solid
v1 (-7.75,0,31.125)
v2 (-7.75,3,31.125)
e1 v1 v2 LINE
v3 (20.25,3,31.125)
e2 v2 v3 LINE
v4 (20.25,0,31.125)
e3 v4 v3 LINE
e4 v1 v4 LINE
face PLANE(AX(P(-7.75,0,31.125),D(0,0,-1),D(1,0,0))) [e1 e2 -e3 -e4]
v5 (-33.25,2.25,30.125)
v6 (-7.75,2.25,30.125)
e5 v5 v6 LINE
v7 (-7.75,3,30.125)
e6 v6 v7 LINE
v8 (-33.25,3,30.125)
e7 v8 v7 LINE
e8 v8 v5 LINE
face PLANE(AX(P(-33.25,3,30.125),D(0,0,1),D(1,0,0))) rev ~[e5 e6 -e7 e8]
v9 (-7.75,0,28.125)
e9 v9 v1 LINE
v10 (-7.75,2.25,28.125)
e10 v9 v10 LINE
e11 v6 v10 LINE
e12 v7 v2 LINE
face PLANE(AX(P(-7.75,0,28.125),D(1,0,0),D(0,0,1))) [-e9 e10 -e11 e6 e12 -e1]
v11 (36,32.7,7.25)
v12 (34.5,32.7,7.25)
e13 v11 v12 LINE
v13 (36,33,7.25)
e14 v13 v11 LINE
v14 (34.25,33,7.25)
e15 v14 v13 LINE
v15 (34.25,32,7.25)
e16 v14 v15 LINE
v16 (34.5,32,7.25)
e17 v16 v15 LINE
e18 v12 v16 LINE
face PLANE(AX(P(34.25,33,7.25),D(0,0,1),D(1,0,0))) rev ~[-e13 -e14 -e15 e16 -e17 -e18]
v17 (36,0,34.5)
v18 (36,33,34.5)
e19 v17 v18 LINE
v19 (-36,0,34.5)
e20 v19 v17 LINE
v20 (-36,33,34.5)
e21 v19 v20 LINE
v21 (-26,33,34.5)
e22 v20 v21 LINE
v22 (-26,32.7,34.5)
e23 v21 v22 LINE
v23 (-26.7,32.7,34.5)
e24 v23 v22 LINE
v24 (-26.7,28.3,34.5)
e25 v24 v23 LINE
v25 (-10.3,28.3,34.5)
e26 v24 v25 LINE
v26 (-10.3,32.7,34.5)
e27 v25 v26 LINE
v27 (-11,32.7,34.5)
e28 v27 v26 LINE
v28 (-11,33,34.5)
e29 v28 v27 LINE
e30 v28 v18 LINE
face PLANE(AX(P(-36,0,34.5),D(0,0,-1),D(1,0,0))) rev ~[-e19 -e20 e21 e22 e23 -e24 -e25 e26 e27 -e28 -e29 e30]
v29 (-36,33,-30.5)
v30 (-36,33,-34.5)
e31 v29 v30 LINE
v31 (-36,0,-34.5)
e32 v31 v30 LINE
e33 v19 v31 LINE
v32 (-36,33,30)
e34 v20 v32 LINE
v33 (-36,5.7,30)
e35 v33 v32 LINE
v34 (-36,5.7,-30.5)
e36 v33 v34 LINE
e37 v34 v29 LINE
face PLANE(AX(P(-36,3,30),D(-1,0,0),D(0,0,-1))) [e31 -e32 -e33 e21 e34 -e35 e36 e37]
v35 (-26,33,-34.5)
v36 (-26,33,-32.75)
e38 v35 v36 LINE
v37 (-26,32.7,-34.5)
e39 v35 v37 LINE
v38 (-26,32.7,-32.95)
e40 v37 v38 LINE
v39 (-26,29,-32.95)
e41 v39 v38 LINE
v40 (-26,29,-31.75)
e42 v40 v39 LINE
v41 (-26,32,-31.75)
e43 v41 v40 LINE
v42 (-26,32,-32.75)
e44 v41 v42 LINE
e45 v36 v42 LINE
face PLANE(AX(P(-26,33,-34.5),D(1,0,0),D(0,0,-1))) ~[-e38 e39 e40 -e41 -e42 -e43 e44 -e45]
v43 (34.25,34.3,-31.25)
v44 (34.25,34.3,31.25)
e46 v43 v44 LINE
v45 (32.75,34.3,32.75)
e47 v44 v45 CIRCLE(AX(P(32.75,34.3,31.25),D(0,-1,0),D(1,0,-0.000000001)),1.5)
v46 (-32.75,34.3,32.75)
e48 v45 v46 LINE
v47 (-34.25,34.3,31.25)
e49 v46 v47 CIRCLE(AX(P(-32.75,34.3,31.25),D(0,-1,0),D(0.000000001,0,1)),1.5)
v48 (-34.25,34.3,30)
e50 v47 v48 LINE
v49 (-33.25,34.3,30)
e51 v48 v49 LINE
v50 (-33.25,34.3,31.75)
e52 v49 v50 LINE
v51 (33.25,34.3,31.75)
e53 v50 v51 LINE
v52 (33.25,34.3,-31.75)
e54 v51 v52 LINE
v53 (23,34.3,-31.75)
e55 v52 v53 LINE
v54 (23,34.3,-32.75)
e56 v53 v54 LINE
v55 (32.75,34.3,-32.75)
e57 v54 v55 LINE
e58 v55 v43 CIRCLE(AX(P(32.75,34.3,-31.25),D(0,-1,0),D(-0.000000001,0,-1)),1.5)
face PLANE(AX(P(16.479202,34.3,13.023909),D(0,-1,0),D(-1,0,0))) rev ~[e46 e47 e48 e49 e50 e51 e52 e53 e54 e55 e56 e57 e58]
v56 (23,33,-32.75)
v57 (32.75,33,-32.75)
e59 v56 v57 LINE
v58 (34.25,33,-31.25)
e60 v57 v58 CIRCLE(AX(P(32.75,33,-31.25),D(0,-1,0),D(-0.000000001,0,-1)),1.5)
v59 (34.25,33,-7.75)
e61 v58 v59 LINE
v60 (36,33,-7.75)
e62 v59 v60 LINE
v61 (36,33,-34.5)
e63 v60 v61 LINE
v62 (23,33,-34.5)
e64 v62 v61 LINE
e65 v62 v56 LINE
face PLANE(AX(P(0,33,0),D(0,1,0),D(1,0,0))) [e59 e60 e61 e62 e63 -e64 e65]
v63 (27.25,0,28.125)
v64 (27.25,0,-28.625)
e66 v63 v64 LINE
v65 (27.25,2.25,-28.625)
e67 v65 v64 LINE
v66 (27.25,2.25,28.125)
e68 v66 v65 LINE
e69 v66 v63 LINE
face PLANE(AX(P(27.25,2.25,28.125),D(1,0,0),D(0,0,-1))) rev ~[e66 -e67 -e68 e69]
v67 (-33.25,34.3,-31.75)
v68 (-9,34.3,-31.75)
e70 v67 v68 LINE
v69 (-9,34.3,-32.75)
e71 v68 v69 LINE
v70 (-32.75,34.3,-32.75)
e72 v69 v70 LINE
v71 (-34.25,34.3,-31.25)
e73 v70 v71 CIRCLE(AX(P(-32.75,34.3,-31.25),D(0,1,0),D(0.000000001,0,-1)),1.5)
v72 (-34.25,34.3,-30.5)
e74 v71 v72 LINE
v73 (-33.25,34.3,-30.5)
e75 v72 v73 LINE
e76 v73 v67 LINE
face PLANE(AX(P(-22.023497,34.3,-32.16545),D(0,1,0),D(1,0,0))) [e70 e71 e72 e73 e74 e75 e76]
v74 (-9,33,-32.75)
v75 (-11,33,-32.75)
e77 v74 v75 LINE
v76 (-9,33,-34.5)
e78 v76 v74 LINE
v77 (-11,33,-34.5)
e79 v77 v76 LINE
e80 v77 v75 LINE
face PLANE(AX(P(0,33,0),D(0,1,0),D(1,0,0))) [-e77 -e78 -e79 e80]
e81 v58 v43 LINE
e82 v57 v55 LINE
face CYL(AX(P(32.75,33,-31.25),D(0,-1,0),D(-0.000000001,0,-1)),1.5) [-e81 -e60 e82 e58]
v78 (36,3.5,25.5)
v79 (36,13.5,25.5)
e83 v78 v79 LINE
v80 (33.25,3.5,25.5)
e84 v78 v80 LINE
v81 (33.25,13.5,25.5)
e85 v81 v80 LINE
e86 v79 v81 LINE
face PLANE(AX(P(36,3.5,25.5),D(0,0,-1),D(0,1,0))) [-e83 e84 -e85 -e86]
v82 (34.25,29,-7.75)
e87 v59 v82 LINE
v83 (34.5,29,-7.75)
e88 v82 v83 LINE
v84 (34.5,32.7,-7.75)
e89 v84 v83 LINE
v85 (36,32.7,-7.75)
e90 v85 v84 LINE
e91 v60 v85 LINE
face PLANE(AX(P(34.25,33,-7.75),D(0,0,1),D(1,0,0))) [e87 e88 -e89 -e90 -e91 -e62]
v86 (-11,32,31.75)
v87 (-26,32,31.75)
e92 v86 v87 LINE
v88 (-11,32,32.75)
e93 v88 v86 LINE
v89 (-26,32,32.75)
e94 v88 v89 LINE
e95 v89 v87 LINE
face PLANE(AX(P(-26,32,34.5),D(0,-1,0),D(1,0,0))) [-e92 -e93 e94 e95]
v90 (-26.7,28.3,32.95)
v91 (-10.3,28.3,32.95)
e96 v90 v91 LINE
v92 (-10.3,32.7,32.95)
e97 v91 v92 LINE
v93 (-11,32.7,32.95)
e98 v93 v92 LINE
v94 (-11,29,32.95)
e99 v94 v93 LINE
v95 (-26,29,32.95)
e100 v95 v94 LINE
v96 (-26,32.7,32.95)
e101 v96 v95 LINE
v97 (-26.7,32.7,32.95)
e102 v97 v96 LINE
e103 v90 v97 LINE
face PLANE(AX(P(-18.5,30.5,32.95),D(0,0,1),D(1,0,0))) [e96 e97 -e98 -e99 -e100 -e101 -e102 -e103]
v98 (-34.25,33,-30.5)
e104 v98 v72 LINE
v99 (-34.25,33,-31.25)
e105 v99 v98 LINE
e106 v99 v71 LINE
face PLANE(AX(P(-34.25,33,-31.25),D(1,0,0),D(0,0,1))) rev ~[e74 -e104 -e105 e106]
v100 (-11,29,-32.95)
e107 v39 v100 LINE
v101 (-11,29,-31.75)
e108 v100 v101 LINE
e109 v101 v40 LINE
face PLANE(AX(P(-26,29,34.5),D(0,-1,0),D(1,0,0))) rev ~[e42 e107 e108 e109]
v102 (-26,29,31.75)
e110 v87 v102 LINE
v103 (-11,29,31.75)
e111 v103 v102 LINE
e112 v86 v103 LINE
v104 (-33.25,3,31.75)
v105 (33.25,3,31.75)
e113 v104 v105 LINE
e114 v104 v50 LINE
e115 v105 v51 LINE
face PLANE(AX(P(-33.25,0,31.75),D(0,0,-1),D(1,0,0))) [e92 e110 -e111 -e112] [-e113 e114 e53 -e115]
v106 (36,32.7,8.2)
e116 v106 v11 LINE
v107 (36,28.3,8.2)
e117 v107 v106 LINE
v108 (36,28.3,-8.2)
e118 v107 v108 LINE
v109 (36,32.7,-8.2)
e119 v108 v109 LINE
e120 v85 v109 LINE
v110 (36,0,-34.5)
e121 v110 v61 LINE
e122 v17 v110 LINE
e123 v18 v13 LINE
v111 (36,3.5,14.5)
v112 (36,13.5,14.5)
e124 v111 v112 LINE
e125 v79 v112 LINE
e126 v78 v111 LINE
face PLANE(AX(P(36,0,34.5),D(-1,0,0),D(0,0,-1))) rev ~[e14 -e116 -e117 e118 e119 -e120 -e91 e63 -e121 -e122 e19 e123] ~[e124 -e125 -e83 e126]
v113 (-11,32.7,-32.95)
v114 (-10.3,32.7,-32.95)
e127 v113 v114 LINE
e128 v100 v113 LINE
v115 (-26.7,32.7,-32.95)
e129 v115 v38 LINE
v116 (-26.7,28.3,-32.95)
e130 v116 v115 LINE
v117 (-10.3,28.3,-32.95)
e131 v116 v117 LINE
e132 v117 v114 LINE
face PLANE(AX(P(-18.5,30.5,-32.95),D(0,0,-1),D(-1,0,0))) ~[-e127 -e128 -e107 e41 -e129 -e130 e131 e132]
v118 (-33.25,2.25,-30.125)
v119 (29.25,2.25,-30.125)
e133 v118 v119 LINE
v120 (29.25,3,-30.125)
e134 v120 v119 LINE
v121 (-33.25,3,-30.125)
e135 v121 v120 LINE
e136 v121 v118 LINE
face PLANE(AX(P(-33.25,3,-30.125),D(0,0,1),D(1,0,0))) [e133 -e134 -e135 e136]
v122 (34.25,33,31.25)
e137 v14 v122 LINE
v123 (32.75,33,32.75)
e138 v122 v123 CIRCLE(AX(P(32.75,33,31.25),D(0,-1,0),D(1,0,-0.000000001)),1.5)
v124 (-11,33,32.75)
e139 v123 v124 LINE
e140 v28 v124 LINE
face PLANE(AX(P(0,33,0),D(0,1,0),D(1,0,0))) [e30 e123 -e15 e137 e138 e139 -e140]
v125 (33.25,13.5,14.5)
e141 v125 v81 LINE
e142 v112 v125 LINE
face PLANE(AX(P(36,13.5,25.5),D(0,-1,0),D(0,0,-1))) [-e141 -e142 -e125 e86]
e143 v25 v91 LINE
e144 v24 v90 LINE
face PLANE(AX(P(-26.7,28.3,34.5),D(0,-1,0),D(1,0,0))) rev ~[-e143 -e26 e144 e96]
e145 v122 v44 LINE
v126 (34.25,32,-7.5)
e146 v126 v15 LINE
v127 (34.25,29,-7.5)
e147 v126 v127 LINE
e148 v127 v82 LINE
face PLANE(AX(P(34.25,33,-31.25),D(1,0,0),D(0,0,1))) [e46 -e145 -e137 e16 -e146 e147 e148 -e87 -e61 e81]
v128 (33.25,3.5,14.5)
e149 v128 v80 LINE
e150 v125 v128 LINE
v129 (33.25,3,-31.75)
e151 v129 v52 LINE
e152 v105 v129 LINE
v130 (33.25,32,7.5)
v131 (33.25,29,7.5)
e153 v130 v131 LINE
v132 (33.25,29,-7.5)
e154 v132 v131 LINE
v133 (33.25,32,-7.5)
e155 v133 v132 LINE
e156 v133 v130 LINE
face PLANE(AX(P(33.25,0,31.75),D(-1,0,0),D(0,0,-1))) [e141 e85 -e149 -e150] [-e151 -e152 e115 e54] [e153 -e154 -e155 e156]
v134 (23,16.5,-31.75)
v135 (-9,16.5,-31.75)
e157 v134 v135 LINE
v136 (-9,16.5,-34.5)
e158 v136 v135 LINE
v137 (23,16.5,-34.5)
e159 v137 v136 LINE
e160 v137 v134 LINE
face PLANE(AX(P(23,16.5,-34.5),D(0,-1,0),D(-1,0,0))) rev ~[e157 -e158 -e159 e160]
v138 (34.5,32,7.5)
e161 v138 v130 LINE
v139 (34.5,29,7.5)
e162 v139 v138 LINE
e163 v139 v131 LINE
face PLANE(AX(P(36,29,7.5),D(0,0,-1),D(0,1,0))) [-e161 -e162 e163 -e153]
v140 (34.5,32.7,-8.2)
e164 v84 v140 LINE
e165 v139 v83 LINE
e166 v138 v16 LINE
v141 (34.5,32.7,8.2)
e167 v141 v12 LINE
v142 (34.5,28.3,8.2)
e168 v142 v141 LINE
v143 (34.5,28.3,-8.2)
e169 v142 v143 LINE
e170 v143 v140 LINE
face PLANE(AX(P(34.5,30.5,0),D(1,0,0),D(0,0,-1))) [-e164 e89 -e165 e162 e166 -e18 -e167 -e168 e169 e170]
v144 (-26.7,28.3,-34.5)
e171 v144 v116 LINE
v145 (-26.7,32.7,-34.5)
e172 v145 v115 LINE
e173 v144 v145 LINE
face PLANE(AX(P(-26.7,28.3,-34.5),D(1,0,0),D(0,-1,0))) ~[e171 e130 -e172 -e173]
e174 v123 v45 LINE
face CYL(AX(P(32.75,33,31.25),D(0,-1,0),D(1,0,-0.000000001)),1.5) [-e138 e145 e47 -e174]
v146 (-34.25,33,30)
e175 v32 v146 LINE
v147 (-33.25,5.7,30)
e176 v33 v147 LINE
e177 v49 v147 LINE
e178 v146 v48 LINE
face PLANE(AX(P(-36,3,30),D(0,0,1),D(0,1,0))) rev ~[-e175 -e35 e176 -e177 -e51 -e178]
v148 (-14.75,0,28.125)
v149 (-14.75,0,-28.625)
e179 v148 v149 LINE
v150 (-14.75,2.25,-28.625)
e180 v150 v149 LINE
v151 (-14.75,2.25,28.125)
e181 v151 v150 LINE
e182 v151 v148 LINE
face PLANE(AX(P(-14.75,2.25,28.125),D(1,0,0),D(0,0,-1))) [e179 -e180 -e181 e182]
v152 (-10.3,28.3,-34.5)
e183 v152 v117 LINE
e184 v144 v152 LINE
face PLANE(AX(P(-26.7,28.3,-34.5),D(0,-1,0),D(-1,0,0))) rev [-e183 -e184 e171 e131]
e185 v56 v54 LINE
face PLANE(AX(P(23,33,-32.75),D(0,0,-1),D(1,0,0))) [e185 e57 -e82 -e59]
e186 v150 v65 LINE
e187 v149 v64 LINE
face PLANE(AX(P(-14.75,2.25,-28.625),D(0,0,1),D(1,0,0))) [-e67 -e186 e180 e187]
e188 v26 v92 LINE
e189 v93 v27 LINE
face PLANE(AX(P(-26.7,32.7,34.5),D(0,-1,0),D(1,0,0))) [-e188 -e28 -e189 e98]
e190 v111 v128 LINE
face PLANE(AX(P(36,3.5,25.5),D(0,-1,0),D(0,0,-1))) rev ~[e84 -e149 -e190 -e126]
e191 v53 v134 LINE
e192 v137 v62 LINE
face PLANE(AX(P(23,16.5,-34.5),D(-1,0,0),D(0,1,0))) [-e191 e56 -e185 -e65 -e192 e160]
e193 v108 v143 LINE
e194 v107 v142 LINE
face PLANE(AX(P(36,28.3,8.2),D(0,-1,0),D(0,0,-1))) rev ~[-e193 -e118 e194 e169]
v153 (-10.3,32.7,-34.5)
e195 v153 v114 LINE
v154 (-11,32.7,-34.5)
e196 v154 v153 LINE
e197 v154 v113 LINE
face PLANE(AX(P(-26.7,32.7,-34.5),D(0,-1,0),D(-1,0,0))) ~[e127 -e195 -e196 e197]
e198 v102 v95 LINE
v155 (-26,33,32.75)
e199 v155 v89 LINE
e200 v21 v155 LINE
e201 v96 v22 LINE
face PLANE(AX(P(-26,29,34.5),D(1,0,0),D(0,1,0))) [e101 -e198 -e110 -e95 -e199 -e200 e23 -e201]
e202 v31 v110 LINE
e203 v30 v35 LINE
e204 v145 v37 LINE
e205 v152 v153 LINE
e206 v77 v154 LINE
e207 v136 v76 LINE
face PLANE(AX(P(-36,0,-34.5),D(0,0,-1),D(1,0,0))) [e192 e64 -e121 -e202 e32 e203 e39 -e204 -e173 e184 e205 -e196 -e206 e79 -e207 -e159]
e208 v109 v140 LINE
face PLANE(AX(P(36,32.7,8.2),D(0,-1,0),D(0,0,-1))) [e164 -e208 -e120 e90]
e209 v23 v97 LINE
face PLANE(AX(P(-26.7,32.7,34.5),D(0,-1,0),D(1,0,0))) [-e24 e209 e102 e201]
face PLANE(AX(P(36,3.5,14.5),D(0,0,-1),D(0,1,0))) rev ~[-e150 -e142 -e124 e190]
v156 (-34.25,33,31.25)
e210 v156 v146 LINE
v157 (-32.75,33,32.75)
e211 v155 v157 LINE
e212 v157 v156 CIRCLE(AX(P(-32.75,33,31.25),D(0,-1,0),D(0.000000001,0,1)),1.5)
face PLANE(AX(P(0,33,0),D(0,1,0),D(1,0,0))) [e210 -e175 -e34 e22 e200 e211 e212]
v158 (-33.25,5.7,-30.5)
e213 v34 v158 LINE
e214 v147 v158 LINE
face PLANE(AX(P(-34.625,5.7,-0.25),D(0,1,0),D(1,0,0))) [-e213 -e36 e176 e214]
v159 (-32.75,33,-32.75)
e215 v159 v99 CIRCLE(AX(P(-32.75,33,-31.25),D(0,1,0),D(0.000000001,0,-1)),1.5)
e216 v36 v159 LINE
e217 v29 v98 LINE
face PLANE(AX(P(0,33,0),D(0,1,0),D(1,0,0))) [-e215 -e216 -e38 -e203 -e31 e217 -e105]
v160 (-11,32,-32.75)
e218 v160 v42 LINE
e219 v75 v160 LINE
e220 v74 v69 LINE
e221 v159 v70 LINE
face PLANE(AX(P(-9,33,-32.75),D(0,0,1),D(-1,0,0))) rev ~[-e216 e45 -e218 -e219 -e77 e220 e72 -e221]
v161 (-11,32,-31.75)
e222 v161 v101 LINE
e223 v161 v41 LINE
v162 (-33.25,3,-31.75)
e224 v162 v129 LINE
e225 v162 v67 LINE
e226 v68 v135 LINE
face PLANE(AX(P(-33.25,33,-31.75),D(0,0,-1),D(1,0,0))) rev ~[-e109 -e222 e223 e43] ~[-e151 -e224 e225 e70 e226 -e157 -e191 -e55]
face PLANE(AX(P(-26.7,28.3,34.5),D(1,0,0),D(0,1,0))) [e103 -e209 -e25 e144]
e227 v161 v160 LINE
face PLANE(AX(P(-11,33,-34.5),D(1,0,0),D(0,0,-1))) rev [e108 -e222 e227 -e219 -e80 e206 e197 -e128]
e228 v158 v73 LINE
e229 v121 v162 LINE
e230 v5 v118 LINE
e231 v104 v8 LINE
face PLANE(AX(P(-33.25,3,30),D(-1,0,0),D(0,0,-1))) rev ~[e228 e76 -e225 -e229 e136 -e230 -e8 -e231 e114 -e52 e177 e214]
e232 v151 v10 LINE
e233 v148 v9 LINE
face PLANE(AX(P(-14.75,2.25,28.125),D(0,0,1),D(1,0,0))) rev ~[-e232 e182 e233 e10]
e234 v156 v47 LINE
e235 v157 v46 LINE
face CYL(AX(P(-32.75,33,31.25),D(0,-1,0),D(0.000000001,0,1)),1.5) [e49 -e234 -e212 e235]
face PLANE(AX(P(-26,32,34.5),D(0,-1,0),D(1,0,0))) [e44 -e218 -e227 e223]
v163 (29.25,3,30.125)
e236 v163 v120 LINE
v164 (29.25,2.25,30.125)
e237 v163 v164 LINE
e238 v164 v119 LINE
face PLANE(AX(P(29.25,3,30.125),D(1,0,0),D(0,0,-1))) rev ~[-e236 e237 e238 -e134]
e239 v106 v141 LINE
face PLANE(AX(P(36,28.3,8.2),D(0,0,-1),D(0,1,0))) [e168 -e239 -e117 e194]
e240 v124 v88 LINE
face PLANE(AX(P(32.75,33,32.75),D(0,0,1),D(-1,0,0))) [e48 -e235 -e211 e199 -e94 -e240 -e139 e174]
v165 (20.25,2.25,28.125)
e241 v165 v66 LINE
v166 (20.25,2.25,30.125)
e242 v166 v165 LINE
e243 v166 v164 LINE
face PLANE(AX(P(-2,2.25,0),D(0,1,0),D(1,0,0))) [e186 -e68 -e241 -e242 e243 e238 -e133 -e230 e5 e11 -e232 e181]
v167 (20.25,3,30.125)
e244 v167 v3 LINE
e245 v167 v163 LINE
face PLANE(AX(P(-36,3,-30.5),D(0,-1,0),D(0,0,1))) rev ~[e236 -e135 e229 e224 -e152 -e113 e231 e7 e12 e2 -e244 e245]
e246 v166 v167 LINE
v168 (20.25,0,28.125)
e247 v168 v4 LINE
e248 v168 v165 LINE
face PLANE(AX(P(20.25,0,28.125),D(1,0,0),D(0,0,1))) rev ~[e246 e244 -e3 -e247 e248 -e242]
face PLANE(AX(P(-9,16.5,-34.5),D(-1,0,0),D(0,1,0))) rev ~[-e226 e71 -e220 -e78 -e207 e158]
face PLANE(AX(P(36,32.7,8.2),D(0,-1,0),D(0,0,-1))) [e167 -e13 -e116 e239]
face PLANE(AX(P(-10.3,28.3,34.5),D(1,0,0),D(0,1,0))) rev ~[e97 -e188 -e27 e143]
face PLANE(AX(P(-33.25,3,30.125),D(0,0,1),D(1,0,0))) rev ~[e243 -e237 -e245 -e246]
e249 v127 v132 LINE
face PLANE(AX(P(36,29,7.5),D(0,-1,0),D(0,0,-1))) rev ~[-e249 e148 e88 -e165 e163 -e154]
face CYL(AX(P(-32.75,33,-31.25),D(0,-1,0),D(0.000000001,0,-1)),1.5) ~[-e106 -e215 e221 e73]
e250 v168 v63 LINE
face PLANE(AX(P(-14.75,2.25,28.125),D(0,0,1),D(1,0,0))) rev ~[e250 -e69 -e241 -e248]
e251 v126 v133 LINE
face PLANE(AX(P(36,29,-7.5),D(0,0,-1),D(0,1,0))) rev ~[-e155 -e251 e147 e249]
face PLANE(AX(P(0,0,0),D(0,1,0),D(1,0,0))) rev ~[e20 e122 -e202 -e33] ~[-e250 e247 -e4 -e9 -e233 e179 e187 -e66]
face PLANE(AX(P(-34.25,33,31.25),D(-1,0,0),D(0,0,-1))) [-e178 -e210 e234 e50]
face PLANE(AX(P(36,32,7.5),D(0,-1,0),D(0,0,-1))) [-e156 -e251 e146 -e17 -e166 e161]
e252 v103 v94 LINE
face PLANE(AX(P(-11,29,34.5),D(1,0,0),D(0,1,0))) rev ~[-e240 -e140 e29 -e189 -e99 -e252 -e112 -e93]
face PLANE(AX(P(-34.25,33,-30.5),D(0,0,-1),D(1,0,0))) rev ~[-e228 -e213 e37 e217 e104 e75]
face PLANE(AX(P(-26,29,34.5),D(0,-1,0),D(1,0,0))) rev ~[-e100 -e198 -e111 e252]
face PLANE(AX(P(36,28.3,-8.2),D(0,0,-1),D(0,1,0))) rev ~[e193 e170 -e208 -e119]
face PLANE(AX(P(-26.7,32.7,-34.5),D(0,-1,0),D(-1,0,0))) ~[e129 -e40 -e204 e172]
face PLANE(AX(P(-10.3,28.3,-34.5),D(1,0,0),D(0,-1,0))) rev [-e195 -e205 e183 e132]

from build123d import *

# Parameters (mm, degrees)
SKETCH2_W           = 66.5
SKETCH2_H           = 63.5
BOSS_EXTRUDE1_DEPTH = 3
SKETCH3_W           = 62.5
SKETCH3_H           = 60.25
CUT_EXTRUDE1_DEPTH  = 0.75
SKETCH4_W           = 42
SKETCH4_H           = 56.75
CUT_EXTRUDE2_DEPTH  = 47.029202687
SKETCH6_W           = 72
SKETCH6_H           = 69
SKETCH6_W_2         = 66.5
SKETCH6_H_2         = 63.5
BOSS_EXTRUDE2_DEPTH = 33
SKETCH7_W           = 60.5
SKETCH7_H           = 30
CUT_EXTRUDE3_DEPTH  = 30
SKETCH8_W           = 11
SKETCH8_H           = 10
CUT_EXTRUDE4_DEPTH  = 3
SKETCH10_W          = 32
SKETCH10_H          = 16.5
CUT_EXTRUDE5_DEPTH  = 16.5
BOSS_EXTRUDE3_DEPTH = 1.3
SKETCH12_W          = 15
SKETCH12_H          = 3
CUT_EXTRUDE6_DEPTH  = 86.049926514
SKETCH13_W          = 15
SKETCH13_H          = 3
CUT_EXTRUDE7_DEPTH  = 3
SKETCH14_W          = 16.4
SKETCH14_H          = 4.4
SKETCH14_W_2        = 15
SKETCH14_H_2        = 3
CUT_EXTRUDE9_DEPTH  = 1.55
SKETCH15_W          = 15
SKETCH15_H          = 1.75
CUT_EXTRUDE10_DEPTH = 4
SKETCH17_W          = 16.4
SKETCH17_H          = 4.4
SKETCH17_W_2        = 15
SKETCH17_H_2        = 3
CUT_EXTRUDE12_DEPTH = 1.5
SKETCH16_W          = 1.75
SKETCH16_H          = 15
CUT_EXTRUDE11_DEPTH = 4
SKETCH18_W          = 28
SKETCH18_H          = 3
CUT_EXTRUDE13_DEPTH = 3
SKETCH20_W          = 2.75
SKETCH20_H          = 60.5
BOSS_EXTRUDE4_DEPTH = 2.7


with BuildPart() as part:
    # Sketch2 → Boss-Extrude1 (new body)
    with BuildSketch(Plane(origin=(0, 0, 0), x_dir=(1, 0, 0), z_dir=(0, 1, 0))):
        Rectangle(SKETCH2_W, SKETCH2_H)
    extrude(amount=BOSS_EXTRUDE1_DEPTH)

    # Sketch3 → Cut-Extrude1 (cut)
    with BuildSketch(Plane(origin=(0, 3, 0), x_dir=(1, 0, 0), z_dir=(0, 1, 0))):
        with Locations((-2, 0)):
            Rectangle(SKETCH3_W, SKETCH3_H)
    extrude(amount=-CUT_EXTRUDE1_DEPTH, mode=Mode.SUBTRACT)

    # Sketch4 → Cut-Extrude2 (cut, through all)
    with BuildSketch(Plane(origin=(0, 2.25, 0), x_dir=(1, 0, 0), z_dir=(0, 1, 0))):
        with Locations((6.25, 0.25)):
            Rectangle(SKETCH4_W, SKETCH4_H)
    extrude(amount=-CUT_EXTRUDE2_DEPTH, mode=Mode.SUBTRACT)

    # Sketch6 → Boss-Extrude2 (add)
    with BuildSketch(Plane(origin=(0, 0, 0), x_dir=(1, 0, 0), z_dir=(0, 1, 0))):
        Rectangle(SKETCH6_W, SKETCH6_H)
        Rectangle(SKETCH6_W_2, SKETCH6_H_2, mode=Mode.SUBTRACT)
    extrude(amount=BOSS_EXTRUDE2_DEPTH)

    # Sketch7 → Cut-Extrude3 (cut)
    with BuildSketch(Plane.ZY.offset(36)):
        with Locations((-0.25, 18)):
            Rectangle(SKETCH7_W, SKETCH7_H)
    extrude(amount=-CUT_EXTRUDE3_DEPTH, mode=Mode.SUBTRACT)

    # Sketch8 → Cut-Extrude4 (cut)
    with BuildSketch(Plane(origin=(36, 0, 0), x_dir=(0, 0, -1), z_dir=(1, 0, 0))):
        with Locations((-20, 8.5)):
            Rectangle(SKETCH8_W, SKETCH8_H)
    extrude(amount=-CUT_EXTRUDE4_DEPTH, mode=Mode.SUBTRACT)

    # Sketch10 → Cut-Extrude5 (cut)
    with BuildSketch(Plane(origin=(0, 0, -34.5), x_dir=(-1, 0, 0), z_dir=(0, 0, -1))):
        with Locations((-7, 24.75)):
            Rectangle(SKETCH10_W, SKETCH10_H)
    extrude(amount=-CUT_EXTRUDE5_DEPTH, mode=Mode.SUBTRACT)

    # Sketch11 → Boss-Extrude3 (add)
    with BuildSketch(Plane(origin=(0, 33, 0), x_dir=(1, 0, 0), z_dir=(0, 1, 0))):
        with BuildLine():
            Line((-34.25, 31.25), (-34.25, 30.5))
            Line((-34.25, 30.5), (-33.25, 30.5))
            Line((-33.25, 30.5), (-33.25, 31.75))
            Line((-33.25, 31.75), (-9, 31.75))
            Line((-9, 31.75), (-9, 32.75))
            Line((-9, 32.75), (-32.75, 32.75))
            ThreePointArc((-32.75, 32.75), (-33.810660172, 32.310660172), (-34.25, 31.25))
        make_face()
        with BuildLine():
            Line((-33.25, -31.75), (33.25, -31.75))
            Line((33.25, -31.75), (33.25, 31.75))
            Line((33.25, 31.75), (23, 31.75))
            Line((23, 31.75), (23, 32.75))
            Line((23, 32.75), (32.75, 32.75))
            ThreePointArc((32.75, 32.75), (33.810660172, 32.310660172), (34.25, 31.25))
            Line((34.25, 31.25), (34.25, -31.25))
            ThreePointArc((34.25, -31.25), (33.810660172, -32.310660172), (32.75, -32.75))
            Line((32.75, -32.75), (-32.75, -32.75))
            ThreePointArc((-32.75, -32.75), (-33.810660172, -32.310660172), (-34.25, -31.25))
            Line((-34.25, -31.25), (-34.25, -30))
            Line((-34.25, -30), (-33.25, -30))
            Line((-33.25, -30), (-33.25, -31.75))
        make_face()
    extrude(amount=BOSS_EXTRUDE3_DEPTH)

    # Sketch12 → Cut-Extrude6 (cut, through all)
    with BuildSketch(Plane.XY.offset(34.5)):
        with Locations((-18.5, 30.5)):
            Rectangle(SKETCH12_W, SKETCH12_H)
    extrude(amount=-CUT_EXTRUDE6_DEPTH, mode=Mode.SUBTRACT)

    # Sketch13 → Cut-Extrude7 (cut)
    with BuildSketch(Plane(origin=(36, 0, 0), x_dir=(0, 0, -1), z_dir=(1, 0, 0))):
        with Locations((0, 30.5)):
            Rectangle(SKETCH13_W, SKETCH13_H)
    extrude(amount=-CUT_EXTRUDE7_DEPTH, mode=Mode.SUBTRACT)

    # Sketch14 → Cut-Extrude9 (cut)
    with BuildSketch(Plane.XY.offset(34.5)):
        with Locations((-18.5, 30.5)):
            Rectangle(SKETCH14_W, SKETCH14_H)
        with Locations((-18.5, 30.5)):
            Rectangle(SKETCH14_W_2, SKETCH14_H_2, mode=Mode.SUBTRACT)
    cut_extrude9 = extrude(amount=-CUT_EXTRUDE9_DEPTH, mode=Mode.SUBTRACT)

    # Sketch15 → Cut-Extrude10 (cut)
    with BuildSketch(Plane(origin=(0, 33, 0), x_dir=(1, 0, 0), z_dir=(0, 1, 0))):
        with Locations((-18.5, -33.625)):
            Rectangle(SKETCH15_W, SKETCH15_H)
    cut_extrude10 = extrude(amount=-CUT_EXTRUDE10_DEPTH, mode=Mode.SUBTRACT)

    # Mirror1: Cut-Extrude9, Cut-Extrude10 across plane
    add(cut_extrude9.mirror(Plane.XY), mode=Mode.SUBTRACT)
    add(cut_extrude10.mirror(Plane.XY), mode=Mode.SUBTRACT)

    # Sketch17 → Cut-Extrude12 (cut)
    with BuildSketch(Plane(origin=(36, 0, 0), x_dir=(0, 0, -1), z_dir=(1, 0, 0))):
        with Locations((0, 30.5)):
            Rectangle(SKETCH17_W, SKETCH17_H)
        with Locations((0, 30.5)):
            Rectangle(SKETCH17_W_2, SKETCH17_H_2, mode=Mode.SUBTRACT)
    extrude(amount=-CUT_EXTRUDE12_DEPTH, mode=Mode.SUBTRACT)

    # Sketch16 → Cut-Extrude11 (cut)
    with BuildSketch(Plane(origin=(0, 33, 0), x_dir=(1, 0, 0), z_dir=(0, 1, 0))):
        with Locations((35.125, 0.25)):
            Rectangle(SKETCH16_W, SKETCH16_H)
    extrude(amount=-CUT_EXTRUDE11_DEPTH, mode=Mode.SUBTRACT)

    # Sketch18 → Cut-Extrude13 (cut)
    with BuildSketch(Plane.XZ):
        with Locations((6.25, 29.625)):
            Rectangle(SKETCH18_W, SKETCH18_H)
    extrude(amount=-CUT_EXTRUDE13_DEPTH, mode=Mode.SUBTRACT)

    # Sketch20 → Boss-Extrude4 (add)
    with BuildSketch(Plane(origin=(0, 3, 0), x_dir=(1, 0, 0), z_dir=(0, 1, 0))):
        with Locations((-34.625, 0.25)):
            Rectangle(SKETCH20_W, SKETCH20_H)
    extrude(amount=BOSS_EXTRUDE4_DEPTH)


solid = part.part
